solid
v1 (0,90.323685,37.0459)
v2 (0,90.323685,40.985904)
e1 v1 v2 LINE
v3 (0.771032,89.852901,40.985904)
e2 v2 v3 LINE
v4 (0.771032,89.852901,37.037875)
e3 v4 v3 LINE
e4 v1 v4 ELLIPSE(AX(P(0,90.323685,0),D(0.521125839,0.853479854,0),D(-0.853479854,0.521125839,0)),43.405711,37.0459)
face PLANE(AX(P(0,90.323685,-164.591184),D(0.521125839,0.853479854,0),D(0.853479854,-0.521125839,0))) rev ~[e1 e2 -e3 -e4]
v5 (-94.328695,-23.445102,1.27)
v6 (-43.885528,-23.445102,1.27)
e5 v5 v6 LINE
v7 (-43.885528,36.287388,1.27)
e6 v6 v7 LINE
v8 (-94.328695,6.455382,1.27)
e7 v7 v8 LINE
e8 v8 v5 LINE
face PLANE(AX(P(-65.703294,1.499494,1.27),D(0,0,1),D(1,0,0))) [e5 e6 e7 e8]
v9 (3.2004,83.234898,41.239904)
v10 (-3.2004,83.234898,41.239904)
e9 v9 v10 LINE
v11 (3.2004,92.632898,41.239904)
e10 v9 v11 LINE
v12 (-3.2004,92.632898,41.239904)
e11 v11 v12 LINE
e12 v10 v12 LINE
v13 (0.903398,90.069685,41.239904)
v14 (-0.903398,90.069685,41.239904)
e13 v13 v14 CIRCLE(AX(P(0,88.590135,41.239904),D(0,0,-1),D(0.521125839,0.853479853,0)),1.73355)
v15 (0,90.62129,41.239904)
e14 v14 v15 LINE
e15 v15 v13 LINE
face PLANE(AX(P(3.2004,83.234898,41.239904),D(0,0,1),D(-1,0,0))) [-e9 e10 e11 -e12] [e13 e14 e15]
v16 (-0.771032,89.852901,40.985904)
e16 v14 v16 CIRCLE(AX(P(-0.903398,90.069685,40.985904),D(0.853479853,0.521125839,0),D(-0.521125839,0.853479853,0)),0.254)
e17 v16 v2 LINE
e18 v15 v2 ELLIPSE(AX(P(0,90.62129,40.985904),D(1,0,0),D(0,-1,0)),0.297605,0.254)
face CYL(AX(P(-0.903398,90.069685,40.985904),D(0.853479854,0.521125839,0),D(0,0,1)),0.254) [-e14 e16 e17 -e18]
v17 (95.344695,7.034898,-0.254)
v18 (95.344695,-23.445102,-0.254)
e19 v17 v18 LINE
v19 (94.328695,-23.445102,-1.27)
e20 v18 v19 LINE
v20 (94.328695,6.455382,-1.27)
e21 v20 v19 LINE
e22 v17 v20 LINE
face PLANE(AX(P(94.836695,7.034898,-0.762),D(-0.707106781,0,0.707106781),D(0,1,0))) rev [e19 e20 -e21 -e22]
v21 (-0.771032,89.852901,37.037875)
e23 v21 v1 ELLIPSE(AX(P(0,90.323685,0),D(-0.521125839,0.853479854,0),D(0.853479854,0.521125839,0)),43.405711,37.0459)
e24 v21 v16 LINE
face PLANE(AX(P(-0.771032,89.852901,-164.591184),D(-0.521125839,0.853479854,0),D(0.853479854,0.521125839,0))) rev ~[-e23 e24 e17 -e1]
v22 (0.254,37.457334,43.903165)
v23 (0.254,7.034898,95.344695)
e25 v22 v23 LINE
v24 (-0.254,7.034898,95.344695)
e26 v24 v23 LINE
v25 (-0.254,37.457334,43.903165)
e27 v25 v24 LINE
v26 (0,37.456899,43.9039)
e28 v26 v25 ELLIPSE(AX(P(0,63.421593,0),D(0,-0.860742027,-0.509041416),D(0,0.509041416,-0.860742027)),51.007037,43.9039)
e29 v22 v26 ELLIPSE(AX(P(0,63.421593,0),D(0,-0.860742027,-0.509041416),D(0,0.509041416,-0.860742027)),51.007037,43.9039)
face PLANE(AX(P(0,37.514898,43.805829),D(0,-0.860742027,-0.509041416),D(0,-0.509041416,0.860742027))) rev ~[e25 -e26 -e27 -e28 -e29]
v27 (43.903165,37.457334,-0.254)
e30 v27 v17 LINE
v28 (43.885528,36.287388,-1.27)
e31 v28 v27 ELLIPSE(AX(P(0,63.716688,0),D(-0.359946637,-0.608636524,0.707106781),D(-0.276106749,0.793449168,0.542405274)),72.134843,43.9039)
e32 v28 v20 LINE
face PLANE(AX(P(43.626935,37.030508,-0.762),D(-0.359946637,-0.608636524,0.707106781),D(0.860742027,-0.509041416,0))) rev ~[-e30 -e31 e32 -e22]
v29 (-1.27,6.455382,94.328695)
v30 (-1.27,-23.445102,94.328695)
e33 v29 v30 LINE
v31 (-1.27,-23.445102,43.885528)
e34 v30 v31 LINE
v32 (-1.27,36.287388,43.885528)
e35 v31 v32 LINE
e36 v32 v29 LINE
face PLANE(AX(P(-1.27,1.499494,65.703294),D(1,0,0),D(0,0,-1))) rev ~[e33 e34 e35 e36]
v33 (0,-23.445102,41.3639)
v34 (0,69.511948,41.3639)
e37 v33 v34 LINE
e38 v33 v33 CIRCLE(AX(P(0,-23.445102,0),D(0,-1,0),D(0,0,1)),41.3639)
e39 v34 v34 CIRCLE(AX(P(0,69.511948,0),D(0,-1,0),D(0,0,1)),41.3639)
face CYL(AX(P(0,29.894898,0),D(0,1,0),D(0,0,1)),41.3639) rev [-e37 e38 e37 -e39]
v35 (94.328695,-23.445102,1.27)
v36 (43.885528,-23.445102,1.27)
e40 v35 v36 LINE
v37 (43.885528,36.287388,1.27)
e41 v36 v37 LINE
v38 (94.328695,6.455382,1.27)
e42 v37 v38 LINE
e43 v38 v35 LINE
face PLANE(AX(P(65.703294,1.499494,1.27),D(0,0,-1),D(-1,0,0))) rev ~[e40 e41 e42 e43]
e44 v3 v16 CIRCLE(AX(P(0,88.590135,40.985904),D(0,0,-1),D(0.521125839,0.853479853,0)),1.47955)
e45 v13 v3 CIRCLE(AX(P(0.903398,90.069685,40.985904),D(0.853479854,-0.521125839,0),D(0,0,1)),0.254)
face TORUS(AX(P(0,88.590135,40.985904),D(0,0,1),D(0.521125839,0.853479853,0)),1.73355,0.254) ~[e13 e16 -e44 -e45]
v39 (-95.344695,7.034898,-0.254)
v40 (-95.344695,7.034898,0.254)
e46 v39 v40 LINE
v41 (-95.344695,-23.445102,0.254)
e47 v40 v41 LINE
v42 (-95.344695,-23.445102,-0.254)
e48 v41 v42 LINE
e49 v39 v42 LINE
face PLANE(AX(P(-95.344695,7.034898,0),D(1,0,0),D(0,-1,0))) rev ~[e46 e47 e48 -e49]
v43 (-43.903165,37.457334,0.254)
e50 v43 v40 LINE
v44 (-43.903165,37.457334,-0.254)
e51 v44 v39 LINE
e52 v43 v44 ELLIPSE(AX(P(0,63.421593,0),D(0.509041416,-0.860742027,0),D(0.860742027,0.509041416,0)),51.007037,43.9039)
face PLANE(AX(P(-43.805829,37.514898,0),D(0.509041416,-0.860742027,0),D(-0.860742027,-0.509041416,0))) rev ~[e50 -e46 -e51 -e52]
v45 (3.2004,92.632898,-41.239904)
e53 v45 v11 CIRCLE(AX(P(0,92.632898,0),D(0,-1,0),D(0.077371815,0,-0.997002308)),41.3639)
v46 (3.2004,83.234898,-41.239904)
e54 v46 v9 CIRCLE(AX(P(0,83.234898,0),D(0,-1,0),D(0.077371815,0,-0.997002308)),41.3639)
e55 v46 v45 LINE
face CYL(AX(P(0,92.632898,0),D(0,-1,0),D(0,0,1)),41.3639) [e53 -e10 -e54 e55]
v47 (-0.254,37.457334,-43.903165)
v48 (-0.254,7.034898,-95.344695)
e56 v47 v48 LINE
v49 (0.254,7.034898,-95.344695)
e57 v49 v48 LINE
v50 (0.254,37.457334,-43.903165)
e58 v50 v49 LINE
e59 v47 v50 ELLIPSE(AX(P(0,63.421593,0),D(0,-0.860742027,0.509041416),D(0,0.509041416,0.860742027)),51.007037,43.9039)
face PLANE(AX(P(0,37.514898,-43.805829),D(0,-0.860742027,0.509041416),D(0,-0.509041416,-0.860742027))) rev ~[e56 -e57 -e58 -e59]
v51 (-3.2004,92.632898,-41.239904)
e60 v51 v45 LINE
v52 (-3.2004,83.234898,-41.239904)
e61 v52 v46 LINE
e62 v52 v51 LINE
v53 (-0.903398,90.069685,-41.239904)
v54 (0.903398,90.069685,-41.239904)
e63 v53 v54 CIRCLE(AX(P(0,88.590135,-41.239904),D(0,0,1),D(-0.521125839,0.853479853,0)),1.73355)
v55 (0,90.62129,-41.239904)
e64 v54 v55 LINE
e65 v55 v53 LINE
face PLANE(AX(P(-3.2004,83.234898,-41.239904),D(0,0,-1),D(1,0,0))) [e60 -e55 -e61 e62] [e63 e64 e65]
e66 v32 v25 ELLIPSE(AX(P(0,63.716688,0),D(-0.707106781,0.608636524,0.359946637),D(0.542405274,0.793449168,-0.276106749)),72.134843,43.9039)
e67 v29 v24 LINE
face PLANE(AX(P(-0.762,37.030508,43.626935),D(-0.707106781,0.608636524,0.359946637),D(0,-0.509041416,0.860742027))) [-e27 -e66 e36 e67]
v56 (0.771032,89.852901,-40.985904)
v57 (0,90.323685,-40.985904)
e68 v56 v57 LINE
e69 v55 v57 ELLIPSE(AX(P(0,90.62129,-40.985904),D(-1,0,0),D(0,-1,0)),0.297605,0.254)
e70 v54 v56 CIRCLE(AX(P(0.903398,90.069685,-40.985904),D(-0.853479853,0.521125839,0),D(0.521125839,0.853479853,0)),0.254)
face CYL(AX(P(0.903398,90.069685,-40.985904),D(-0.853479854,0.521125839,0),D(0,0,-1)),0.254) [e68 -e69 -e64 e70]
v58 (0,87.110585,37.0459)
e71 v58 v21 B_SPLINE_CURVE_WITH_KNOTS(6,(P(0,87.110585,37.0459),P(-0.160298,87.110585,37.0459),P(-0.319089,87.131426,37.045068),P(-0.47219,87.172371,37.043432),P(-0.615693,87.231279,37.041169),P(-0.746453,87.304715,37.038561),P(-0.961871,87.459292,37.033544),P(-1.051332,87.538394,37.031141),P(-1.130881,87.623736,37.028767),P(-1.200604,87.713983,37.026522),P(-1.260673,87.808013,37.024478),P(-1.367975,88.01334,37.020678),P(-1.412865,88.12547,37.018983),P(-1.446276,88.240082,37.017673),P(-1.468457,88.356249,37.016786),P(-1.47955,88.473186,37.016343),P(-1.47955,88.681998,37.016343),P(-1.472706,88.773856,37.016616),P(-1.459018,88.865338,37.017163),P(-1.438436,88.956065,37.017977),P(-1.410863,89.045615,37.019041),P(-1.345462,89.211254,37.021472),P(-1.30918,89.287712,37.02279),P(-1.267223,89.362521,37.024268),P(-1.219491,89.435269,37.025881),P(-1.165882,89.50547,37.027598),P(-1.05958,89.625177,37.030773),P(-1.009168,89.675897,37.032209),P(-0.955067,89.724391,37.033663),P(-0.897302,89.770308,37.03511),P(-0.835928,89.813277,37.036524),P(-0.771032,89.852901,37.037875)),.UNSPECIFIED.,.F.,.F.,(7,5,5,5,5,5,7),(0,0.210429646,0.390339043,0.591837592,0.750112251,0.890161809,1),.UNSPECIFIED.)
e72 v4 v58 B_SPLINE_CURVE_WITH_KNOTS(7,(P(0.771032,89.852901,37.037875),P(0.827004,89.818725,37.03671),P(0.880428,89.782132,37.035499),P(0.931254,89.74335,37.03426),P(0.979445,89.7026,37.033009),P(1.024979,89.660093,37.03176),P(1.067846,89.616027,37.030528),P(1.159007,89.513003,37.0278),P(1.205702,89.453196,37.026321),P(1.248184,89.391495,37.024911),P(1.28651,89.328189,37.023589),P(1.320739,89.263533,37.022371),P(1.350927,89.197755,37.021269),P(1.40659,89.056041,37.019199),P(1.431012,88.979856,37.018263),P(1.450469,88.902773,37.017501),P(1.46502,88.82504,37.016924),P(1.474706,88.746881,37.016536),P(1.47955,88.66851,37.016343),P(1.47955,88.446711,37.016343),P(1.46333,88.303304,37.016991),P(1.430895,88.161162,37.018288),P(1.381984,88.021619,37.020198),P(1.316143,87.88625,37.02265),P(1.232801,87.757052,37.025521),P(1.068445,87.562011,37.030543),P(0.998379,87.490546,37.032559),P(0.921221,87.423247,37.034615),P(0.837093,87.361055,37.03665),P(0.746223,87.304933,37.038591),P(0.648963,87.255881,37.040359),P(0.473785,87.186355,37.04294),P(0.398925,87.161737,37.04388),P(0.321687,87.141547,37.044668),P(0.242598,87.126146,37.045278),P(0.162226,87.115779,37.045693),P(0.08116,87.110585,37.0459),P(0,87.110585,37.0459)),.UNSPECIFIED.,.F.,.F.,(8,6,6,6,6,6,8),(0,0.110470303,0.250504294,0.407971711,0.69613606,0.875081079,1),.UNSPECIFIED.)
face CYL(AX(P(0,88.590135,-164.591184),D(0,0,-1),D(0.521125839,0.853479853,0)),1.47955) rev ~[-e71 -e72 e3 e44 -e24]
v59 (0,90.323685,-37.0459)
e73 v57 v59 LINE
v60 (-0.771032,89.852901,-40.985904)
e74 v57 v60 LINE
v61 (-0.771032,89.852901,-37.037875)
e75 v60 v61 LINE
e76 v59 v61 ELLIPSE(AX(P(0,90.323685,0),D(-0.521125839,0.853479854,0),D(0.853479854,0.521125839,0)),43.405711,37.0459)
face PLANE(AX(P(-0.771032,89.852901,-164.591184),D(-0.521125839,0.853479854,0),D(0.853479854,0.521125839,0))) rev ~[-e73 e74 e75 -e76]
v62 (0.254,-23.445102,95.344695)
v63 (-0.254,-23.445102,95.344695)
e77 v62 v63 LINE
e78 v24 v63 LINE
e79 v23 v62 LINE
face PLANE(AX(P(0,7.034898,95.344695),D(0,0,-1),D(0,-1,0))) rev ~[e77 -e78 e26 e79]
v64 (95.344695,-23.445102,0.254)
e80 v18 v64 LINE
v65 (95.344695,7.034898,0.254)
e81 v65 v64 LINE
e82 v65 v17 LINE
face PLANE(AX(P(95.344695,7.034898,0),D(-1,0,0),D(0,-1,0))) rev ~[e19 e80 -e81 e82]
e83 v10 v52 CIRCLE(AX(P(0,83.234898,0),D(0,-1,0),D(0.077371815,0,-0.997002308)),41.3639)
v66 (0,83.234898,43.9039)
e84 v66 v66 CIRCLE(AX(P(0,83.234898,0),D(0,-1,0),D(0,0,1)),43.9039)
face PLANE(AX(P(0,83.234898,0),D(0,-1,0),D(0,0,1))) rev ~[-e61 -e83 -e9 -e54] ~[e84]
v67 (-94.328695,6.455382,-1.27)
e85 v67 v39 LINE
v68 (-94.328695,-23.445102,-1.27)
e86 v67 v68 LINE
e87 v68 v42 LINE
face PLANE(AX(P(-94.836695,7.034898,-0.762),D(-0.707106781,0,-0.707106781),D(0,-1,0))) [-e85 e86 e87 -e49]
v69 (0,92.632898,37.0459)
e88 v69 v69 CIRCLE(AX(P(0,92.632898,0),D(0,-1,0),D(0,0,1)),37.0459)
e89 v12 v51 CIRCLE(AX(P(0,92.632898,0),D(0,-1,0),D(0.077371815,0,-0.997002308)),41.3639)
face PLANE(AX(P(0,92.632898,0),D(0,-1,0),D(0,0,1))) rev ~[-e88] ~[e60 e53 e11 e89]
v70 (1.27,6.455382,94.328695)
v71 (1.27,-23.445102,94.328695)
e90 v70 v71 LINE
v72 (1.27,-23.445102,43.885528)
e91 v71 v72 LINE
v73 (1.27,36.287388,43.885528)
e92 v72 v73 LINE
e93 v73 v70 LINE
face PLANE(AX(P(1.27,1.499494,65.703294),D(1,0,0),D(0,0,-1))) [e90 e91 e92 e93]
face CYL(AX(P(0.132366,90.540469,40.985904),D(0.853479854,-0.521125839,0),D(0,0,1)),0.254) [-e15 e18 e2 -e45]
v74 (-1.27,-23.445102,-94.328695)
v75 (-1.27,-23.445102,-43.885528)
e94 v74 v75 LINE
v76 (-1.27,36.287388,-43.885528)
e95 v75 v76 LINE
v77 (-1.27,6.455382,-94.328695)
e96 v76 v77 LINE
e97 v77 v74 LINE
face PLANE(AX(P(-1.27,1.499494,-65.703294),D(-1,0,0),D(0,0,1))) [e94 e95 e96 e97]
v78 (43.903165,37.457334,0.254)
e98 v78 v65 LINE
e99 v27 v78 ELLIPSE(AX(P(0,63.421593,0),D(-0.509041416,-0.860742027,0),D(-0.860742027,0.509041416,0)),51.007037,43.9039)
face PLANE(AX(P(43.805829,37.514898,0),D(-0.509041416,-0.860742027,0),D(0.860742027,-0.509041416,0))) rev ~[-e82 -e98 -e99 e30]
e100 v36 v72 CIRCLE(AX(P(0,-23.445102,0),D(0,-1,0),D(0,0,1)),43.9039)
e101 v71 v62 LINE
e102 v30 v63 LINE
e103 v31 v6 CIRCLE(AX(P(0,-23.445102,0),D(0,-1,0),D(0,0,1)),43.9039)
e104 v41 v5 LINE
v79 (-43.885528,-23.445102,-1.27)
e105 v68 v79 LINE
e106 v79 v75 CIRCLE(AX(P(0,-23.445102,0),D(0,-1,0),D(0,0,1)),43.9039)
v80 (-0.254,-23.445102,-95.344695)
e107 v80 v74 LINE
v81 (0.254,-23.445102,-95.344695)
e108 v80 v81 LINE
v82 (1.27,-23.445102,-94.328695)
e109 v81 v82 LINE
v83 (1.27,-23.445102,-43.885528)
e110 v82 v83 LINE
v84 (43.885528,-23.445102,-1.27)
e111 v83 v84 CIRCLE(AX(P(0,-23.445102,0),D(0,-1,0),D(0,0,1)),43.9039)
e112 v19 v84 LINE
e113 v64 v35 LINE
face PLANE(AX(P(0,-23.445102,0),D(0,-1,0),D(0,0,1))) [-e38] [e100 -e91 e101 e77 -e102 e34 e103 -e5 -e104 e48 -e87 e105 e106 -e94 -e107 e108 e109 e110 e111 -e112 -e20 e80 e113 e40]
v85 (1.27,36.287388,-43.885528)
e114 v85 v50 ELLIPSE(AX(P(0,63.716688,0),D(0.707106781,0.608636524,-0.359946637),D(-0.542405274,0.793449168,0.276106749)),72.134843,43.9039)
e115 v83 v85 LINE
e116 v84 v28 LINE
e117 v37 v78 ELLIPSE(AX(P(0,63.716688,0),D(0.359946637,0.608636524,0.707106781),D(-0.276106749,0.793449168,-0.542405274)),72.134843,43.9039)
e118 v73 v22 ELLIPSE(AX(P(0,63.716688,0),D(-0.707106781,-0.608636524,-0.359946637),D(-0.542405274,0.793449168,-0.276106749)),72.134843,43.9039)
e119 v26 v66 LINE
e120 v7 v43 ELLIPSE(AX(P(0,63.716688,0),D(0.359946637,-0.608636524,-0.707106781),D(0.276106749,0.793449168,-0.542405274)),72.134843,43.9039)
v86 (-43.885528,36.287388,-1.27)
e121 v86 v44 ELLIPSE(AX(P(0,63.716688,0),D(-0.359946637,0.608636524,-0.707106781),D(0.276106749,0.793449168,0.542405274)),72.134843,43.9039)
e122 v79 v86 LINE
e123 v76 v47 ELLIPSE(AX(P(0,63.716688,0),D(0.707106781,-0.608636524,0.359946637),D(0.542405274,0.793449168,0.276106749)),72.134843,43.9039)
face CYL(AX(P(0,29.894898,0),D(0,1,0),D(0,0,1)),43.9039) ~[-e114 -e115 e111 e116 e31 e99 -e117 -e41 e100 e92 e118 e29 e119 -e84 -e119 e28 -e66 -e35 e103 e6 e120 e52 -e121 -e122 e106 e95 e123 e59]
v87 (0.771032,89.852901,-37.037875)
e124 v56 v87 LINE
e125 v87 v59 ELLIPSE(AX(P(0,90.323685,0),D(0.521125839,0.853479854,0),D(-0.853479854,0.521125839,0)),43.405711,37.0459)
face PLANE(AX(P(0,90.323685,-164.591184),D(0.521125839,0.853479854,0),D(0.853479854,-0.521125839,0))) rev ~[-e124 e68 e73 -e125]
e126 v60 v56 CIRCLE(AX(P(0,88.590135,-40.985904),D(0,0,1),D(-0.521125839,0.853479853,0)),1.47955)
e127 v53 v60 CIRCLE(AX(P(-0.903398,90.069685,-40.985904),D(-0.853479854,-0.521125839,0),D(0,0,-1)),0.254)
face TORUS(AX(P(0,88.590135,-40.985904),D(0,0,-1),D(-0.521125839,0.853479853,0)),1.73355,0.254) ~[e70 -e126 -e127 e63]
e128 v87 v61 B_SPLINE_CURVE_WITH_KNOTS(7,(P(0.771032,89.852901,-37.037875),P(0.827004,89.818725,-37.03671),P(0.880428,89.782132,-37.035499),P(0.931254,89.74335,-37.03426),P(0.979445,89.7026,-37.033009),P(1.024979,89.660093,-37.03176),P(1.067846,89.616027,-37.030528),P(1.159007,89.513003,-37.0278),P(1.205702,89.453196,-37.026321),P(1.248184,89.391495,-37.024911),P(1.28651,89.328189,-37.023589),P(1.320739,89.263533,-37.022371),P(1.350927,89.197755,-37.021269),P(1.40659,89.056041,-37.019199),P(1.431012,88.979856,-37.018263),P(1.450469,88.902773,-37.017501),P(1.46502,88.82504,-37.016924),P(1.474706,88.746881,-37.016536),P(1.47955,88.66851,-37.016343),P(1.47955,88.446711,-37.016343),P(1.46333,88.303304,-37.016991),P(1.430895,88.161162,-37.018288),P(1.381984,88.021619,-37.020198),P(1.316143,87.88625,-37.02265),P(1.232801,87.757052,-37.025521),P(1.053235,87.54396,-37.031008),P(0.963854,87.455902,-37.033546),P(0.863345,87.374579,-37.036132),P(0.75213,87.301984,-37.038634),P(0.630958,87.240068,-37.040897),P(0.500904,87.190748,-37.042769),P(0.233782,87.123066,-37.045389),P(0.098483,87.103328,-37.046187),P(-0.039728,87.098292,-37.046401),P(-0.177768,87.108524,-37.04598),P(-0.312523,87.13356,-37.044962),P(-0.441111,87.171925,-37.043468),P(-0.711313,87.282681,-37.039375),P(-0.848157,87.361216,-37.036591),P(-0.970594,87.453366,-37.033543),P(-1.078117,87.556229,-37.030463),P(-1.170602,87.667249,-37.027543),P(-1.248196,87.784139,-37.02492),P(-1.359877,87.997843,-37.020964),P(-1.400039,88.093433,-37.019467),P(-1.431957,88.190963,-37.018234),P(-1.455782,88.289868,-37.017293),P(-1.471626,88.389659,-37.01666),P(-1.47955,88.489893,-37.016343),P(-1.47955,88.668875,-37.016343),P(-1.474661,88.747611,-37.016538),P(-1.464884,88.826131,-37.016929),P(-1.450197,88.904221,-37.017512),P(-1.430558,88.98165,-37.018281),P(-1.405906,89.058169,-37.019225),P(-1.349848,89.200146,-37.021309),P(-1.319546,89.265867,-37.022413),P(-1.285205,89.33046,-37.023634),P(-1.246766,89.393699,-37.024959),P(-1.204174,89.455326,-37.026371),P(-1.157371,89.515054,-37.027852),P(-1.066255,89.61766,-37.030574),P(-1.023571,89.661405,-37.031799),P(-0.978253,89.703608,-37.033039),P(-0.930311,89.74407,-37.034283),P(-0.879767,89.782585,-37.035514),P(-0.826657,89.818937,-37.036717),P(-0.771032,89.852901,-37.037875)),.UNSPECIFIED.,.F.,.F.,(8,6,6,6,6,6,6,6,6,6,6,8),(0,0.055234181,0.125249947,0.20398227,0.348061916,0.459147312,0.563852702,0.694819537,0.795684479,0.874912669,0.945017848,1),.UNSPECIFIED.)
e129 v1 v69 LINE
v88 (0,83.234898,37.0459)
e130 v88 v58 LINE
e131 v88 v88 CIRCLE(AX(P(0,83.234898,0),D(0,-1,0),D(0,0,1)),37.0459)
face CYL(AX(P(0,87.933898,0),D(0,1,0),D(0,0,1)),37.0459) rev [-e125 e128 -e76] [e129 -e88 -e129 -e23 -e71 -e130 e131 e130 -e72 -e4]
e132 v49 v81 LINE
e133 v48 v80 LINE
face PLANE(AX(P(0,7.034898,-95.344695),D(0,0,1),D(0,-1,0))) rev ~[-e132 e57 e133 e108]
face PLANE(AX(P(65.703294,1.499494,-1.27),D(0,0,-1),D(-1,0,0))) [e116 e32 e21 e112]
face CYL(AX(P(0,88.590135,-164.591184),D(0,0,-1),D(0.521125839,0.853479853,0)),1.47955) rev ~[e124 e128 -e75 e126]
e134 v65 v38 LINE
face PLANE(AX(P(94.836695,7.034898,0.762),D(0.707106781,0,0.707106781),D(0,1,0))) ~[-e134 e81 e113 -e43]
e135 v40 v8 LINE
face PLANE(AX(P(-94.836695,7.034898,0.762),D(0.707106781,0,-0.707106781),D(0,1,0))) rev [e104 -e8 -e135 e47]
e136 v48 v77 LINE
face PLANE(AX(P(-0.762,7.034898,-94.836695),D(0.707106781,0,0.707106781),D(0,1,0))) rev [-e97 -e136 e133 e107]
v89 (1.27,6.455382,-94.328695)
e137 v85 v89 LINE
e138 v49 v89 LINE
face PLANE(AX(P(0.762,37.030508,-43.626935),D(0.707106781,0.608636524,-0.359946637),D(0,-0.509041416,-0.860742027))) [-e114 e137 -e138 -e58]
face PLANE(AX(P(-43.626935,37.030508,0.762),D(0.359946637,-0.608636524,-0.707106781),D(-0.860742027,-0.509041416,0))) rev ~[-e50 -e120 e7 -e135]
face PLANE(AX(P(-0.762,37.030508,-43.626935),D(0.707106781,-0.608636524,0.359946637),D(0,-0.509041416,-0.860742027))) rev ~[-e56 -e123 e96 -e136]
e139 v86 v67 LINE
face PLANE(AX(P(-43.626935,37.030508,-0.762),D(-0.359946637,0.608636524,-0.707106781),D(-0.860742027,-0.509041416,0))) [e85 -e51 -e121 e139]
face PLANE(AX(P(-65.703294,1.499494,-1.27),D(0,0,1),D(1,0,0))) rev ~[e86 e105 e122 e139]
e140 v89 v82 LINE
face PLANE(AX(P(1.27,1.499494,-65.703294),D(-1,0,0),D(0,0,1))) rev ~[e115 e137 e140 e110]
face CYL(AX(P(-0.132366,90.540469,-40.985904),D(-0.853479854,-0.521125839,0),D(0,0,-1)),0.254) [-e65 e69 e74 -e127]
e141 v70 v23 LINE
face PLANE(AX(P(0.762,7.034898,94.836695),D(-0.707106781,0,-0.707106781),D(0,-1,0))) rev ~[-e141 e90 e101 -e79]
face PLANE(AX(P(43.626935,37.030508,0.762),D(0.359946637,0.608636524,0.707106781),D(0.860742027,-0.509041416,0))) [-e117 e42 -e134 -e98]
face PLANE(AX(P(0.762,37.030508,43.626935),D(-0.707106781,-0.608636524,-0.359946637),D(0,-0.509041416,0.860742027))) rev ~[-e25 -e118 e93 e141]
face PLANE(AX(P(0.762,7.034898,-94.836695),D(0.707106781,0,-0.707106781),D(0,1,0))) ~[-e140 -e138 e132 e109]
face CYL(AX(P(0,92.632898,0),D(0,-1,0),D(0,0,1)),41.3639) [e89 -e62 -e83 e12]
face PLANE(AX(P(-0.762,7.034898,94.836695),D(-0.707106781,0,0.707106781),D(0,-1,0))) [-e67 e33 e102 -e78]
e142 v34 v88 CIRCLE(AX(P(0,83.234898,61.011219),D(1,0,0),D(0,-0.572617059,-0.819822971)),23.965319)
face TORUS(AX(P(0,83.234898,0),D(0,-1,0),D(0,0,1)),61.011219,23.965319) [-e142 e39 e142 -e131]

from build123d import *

# Parameters (mm, degrees)
SKETCH1_W                    = 4.318
SKETCH1_H                    = 9.398
SKETCH1_W_2                  = 2.54
SKETCH1_H_2                  = 106.68
BOSS_EXTRUDE3_DEPTH          = 1.27
CHAMFER1_SIZE                = 1.016
CIRPATTERN6_COUNT            = 4
CHAMFER1_OF_CIRPATTERN6_SIZE = 1.016
CUT_EXTRUDE6_DEPTH           = 164.591183691
CUT_EXTRUDE6_DEPTH_BACK      = 164.591183691
CUT_EXTRUDE7_START           = -9.398
CUT_EXTRUDE7_DEPTH           = 188.317430146
CIRPATTERN7_COUNT            = 2
FILLET1_R                    = 0.254


with BuildPart() as part:
    # Sketch1 → Revolve1 (revolve)
    with BuildSketch(Plane.XY, mode=Mode.PRIVATE) as revolve1_sk:
        with BuildLine():
            Line((-37.0459, 83.23489827), (-41.3639, 83.23489827))
            Line((-41.3639, 83.23489827), (-41.3639, 69.51194771))
            ThreePointArc((-41.3639, 69.51194771), (-38.150873616, 76.041767935), (-37.0459, 83.23489827))
        make_face()
        with Locations((-39.2049, 87.93389827)):
            Rectangle(SKETCH1_W, SKETCH1_H)
        with Locations((-42.6339, 29.89489827)):
            Rectangle(SKETCH1_W_2, SKETCH1_H_2)
    revolve(revolve1_sk.sketch.rotate(Axis((0, 21.7161892, 0), (0, -1, 0)), 270), axis=Axis((0, 21.7161892, 0), (0, -1, 0)))

    # Sketch4 → Boss-Extrude3 (add, symmetric)
    with BuildSketch(Plane(origin=(0, 0, 0), x_dir=(0, 0, -1), z_dir=(1, 0, 0))):
        Polygon((43.805829154, -23.44510173), (43.805829154, 37.51489827), (95.344694503, 7.03489827), (95.344694503, -23.44510173), align=None)
    boss_extrude3 = extrude(amount=BOSS_EXTRUDE3_DEPTH, both=True)

    # Chamfer1
    chamfer1_edges = [part.edges().sort_by_distance(p)[0] for p in [
        (-1.27, -8.20510173, -95.344694503),
        (1.27, -8.20510173, -95.344694503),
        (-1.27, 22.251331497, -69.615111065),
        (1.27, 22.251331497, -69.615111065),
    ]]
    chamfer(chamfer1_edges, length=CHAMFER1_SIZE)

    # CirPattern6: Boss-Extrude3 ×4 about axis
    cirpattern6_axis = Axis((0, 0, 0), (0, 1, 0))
    for i in range(1, CIRPATTERN6_COUNT):
        add(boss_extrude3.rotate(cirpattern6_axis, i * 360 / CIRPATTERN6_COUNT))

    # Chamfer1 of CirPattern6
    chamfer1_of_cirpattern6_edges = [part.edges().sort_by_distance(p)[0] for p in [
        (-95.344694503, -8.20510173, 1.27),
        (-95.344694503, -8.20510173, -1.27),
        (-69.615111065, 22.251331497, 1.27),
        (-69.615111065, 22.251331497, -1.27),
        (1.27, -8.20510173, 95.344694503),
        (-1.27, -8.20510173, 95.344694503),
        (1.27, 22.251331497, 69.615111065),
        (-1.27, 22.251331497, 69.615111065),
        (95.344694503, -8.20510173, -1.27),
        (95.344694503, -8.20510173, 1.27),
        (69.615111065, 22.251331497, -1.27),
        (69.615111065, 22.251331497, 1.27),
    ]]
    chamfer(chamfer1_of_cirpattern6_edges, length=CHAMFER1_OF_CIRPATTERN6_SIZE)

    # Sketch6 → Cut-Extrude6 (cut, two sides: drawn at the far end of the back side and taken through both)
    with BuildSketch(Plane.XY.offset(-CUT_EXTRUDE6_DEPTH_BACK)):
        with BuildLine():
            Line((-0.771031735, 89.852901434), (0, 90.323685317))
            Line((0, 90.323685317), (0.771031735, 89.852901434))
            ThreePointArc((0.771031735, 89.852901434), (0, 87.110585317), (-0.771031735, 89.852901434))
        make_face()
    extrude(amount=CUT_EXTRUDE6_DEPTH + CUT_EXTRUDE6_DEPTH_BACK, mode=Mode.SUBTRACT)

    # Sketch7 → Cut-Extrude7 (cut)
    with BuildSketch(Plane(origin=(0, 92.63289827, 0), x_dir=(1, 0, 0), z_dir=(0, 1, 0)).offset(CUT_EXTRUDE7_START)):
        with BuildLine():
            ThreePointArc((0, 41.3639), (-1.601400576, 41.332889318), (-3.2004, 41.239903771))
            Line((-3.2004, 41.239903771), (3.2004, 41.239903771))
            ThreePointArc((3.2004, 41.239903771), (1.601400576, 41.332889318), (0, 41.3639))
        make_face()
    cut_extrude7 = extrude(amount=CUT_EXTRUDE7_DEPTH, mode=Mode.SUBTRACT)

    # CirPattern7: Cut-Extrude7 ×2 about axis
    cirpattern7_axis = Axis((0, 21.7161892, 0), (0, 1, 0))
    for i in range(1, CIRPATTERN7_COUNT):
        add(cut_extrude7.rotate(cirpattern7_axis, i * 360 / CIRPATTERN7_COUNT), mode=Mode.SUBTRACT)

    # Fillet1
    fillet1_edges = [part.edges().sort_by_distance(p)[0] for p in [
        (0.385515867, 90.088293375, -41.239903771),
        (0, 87.110585317, -41.239903771),
        (-0.385515867, 90.088293375, -41.239903771),
        (0, 87.110585317, 41.239903771),
        (-0.385515867, 90.088293375, 41.239903771),
        (0.385515867, 90.088293375, 41.239903771),
    ]]
    fillet(fillet1_edges, radius=FILLET1_R)


solid = part.part
